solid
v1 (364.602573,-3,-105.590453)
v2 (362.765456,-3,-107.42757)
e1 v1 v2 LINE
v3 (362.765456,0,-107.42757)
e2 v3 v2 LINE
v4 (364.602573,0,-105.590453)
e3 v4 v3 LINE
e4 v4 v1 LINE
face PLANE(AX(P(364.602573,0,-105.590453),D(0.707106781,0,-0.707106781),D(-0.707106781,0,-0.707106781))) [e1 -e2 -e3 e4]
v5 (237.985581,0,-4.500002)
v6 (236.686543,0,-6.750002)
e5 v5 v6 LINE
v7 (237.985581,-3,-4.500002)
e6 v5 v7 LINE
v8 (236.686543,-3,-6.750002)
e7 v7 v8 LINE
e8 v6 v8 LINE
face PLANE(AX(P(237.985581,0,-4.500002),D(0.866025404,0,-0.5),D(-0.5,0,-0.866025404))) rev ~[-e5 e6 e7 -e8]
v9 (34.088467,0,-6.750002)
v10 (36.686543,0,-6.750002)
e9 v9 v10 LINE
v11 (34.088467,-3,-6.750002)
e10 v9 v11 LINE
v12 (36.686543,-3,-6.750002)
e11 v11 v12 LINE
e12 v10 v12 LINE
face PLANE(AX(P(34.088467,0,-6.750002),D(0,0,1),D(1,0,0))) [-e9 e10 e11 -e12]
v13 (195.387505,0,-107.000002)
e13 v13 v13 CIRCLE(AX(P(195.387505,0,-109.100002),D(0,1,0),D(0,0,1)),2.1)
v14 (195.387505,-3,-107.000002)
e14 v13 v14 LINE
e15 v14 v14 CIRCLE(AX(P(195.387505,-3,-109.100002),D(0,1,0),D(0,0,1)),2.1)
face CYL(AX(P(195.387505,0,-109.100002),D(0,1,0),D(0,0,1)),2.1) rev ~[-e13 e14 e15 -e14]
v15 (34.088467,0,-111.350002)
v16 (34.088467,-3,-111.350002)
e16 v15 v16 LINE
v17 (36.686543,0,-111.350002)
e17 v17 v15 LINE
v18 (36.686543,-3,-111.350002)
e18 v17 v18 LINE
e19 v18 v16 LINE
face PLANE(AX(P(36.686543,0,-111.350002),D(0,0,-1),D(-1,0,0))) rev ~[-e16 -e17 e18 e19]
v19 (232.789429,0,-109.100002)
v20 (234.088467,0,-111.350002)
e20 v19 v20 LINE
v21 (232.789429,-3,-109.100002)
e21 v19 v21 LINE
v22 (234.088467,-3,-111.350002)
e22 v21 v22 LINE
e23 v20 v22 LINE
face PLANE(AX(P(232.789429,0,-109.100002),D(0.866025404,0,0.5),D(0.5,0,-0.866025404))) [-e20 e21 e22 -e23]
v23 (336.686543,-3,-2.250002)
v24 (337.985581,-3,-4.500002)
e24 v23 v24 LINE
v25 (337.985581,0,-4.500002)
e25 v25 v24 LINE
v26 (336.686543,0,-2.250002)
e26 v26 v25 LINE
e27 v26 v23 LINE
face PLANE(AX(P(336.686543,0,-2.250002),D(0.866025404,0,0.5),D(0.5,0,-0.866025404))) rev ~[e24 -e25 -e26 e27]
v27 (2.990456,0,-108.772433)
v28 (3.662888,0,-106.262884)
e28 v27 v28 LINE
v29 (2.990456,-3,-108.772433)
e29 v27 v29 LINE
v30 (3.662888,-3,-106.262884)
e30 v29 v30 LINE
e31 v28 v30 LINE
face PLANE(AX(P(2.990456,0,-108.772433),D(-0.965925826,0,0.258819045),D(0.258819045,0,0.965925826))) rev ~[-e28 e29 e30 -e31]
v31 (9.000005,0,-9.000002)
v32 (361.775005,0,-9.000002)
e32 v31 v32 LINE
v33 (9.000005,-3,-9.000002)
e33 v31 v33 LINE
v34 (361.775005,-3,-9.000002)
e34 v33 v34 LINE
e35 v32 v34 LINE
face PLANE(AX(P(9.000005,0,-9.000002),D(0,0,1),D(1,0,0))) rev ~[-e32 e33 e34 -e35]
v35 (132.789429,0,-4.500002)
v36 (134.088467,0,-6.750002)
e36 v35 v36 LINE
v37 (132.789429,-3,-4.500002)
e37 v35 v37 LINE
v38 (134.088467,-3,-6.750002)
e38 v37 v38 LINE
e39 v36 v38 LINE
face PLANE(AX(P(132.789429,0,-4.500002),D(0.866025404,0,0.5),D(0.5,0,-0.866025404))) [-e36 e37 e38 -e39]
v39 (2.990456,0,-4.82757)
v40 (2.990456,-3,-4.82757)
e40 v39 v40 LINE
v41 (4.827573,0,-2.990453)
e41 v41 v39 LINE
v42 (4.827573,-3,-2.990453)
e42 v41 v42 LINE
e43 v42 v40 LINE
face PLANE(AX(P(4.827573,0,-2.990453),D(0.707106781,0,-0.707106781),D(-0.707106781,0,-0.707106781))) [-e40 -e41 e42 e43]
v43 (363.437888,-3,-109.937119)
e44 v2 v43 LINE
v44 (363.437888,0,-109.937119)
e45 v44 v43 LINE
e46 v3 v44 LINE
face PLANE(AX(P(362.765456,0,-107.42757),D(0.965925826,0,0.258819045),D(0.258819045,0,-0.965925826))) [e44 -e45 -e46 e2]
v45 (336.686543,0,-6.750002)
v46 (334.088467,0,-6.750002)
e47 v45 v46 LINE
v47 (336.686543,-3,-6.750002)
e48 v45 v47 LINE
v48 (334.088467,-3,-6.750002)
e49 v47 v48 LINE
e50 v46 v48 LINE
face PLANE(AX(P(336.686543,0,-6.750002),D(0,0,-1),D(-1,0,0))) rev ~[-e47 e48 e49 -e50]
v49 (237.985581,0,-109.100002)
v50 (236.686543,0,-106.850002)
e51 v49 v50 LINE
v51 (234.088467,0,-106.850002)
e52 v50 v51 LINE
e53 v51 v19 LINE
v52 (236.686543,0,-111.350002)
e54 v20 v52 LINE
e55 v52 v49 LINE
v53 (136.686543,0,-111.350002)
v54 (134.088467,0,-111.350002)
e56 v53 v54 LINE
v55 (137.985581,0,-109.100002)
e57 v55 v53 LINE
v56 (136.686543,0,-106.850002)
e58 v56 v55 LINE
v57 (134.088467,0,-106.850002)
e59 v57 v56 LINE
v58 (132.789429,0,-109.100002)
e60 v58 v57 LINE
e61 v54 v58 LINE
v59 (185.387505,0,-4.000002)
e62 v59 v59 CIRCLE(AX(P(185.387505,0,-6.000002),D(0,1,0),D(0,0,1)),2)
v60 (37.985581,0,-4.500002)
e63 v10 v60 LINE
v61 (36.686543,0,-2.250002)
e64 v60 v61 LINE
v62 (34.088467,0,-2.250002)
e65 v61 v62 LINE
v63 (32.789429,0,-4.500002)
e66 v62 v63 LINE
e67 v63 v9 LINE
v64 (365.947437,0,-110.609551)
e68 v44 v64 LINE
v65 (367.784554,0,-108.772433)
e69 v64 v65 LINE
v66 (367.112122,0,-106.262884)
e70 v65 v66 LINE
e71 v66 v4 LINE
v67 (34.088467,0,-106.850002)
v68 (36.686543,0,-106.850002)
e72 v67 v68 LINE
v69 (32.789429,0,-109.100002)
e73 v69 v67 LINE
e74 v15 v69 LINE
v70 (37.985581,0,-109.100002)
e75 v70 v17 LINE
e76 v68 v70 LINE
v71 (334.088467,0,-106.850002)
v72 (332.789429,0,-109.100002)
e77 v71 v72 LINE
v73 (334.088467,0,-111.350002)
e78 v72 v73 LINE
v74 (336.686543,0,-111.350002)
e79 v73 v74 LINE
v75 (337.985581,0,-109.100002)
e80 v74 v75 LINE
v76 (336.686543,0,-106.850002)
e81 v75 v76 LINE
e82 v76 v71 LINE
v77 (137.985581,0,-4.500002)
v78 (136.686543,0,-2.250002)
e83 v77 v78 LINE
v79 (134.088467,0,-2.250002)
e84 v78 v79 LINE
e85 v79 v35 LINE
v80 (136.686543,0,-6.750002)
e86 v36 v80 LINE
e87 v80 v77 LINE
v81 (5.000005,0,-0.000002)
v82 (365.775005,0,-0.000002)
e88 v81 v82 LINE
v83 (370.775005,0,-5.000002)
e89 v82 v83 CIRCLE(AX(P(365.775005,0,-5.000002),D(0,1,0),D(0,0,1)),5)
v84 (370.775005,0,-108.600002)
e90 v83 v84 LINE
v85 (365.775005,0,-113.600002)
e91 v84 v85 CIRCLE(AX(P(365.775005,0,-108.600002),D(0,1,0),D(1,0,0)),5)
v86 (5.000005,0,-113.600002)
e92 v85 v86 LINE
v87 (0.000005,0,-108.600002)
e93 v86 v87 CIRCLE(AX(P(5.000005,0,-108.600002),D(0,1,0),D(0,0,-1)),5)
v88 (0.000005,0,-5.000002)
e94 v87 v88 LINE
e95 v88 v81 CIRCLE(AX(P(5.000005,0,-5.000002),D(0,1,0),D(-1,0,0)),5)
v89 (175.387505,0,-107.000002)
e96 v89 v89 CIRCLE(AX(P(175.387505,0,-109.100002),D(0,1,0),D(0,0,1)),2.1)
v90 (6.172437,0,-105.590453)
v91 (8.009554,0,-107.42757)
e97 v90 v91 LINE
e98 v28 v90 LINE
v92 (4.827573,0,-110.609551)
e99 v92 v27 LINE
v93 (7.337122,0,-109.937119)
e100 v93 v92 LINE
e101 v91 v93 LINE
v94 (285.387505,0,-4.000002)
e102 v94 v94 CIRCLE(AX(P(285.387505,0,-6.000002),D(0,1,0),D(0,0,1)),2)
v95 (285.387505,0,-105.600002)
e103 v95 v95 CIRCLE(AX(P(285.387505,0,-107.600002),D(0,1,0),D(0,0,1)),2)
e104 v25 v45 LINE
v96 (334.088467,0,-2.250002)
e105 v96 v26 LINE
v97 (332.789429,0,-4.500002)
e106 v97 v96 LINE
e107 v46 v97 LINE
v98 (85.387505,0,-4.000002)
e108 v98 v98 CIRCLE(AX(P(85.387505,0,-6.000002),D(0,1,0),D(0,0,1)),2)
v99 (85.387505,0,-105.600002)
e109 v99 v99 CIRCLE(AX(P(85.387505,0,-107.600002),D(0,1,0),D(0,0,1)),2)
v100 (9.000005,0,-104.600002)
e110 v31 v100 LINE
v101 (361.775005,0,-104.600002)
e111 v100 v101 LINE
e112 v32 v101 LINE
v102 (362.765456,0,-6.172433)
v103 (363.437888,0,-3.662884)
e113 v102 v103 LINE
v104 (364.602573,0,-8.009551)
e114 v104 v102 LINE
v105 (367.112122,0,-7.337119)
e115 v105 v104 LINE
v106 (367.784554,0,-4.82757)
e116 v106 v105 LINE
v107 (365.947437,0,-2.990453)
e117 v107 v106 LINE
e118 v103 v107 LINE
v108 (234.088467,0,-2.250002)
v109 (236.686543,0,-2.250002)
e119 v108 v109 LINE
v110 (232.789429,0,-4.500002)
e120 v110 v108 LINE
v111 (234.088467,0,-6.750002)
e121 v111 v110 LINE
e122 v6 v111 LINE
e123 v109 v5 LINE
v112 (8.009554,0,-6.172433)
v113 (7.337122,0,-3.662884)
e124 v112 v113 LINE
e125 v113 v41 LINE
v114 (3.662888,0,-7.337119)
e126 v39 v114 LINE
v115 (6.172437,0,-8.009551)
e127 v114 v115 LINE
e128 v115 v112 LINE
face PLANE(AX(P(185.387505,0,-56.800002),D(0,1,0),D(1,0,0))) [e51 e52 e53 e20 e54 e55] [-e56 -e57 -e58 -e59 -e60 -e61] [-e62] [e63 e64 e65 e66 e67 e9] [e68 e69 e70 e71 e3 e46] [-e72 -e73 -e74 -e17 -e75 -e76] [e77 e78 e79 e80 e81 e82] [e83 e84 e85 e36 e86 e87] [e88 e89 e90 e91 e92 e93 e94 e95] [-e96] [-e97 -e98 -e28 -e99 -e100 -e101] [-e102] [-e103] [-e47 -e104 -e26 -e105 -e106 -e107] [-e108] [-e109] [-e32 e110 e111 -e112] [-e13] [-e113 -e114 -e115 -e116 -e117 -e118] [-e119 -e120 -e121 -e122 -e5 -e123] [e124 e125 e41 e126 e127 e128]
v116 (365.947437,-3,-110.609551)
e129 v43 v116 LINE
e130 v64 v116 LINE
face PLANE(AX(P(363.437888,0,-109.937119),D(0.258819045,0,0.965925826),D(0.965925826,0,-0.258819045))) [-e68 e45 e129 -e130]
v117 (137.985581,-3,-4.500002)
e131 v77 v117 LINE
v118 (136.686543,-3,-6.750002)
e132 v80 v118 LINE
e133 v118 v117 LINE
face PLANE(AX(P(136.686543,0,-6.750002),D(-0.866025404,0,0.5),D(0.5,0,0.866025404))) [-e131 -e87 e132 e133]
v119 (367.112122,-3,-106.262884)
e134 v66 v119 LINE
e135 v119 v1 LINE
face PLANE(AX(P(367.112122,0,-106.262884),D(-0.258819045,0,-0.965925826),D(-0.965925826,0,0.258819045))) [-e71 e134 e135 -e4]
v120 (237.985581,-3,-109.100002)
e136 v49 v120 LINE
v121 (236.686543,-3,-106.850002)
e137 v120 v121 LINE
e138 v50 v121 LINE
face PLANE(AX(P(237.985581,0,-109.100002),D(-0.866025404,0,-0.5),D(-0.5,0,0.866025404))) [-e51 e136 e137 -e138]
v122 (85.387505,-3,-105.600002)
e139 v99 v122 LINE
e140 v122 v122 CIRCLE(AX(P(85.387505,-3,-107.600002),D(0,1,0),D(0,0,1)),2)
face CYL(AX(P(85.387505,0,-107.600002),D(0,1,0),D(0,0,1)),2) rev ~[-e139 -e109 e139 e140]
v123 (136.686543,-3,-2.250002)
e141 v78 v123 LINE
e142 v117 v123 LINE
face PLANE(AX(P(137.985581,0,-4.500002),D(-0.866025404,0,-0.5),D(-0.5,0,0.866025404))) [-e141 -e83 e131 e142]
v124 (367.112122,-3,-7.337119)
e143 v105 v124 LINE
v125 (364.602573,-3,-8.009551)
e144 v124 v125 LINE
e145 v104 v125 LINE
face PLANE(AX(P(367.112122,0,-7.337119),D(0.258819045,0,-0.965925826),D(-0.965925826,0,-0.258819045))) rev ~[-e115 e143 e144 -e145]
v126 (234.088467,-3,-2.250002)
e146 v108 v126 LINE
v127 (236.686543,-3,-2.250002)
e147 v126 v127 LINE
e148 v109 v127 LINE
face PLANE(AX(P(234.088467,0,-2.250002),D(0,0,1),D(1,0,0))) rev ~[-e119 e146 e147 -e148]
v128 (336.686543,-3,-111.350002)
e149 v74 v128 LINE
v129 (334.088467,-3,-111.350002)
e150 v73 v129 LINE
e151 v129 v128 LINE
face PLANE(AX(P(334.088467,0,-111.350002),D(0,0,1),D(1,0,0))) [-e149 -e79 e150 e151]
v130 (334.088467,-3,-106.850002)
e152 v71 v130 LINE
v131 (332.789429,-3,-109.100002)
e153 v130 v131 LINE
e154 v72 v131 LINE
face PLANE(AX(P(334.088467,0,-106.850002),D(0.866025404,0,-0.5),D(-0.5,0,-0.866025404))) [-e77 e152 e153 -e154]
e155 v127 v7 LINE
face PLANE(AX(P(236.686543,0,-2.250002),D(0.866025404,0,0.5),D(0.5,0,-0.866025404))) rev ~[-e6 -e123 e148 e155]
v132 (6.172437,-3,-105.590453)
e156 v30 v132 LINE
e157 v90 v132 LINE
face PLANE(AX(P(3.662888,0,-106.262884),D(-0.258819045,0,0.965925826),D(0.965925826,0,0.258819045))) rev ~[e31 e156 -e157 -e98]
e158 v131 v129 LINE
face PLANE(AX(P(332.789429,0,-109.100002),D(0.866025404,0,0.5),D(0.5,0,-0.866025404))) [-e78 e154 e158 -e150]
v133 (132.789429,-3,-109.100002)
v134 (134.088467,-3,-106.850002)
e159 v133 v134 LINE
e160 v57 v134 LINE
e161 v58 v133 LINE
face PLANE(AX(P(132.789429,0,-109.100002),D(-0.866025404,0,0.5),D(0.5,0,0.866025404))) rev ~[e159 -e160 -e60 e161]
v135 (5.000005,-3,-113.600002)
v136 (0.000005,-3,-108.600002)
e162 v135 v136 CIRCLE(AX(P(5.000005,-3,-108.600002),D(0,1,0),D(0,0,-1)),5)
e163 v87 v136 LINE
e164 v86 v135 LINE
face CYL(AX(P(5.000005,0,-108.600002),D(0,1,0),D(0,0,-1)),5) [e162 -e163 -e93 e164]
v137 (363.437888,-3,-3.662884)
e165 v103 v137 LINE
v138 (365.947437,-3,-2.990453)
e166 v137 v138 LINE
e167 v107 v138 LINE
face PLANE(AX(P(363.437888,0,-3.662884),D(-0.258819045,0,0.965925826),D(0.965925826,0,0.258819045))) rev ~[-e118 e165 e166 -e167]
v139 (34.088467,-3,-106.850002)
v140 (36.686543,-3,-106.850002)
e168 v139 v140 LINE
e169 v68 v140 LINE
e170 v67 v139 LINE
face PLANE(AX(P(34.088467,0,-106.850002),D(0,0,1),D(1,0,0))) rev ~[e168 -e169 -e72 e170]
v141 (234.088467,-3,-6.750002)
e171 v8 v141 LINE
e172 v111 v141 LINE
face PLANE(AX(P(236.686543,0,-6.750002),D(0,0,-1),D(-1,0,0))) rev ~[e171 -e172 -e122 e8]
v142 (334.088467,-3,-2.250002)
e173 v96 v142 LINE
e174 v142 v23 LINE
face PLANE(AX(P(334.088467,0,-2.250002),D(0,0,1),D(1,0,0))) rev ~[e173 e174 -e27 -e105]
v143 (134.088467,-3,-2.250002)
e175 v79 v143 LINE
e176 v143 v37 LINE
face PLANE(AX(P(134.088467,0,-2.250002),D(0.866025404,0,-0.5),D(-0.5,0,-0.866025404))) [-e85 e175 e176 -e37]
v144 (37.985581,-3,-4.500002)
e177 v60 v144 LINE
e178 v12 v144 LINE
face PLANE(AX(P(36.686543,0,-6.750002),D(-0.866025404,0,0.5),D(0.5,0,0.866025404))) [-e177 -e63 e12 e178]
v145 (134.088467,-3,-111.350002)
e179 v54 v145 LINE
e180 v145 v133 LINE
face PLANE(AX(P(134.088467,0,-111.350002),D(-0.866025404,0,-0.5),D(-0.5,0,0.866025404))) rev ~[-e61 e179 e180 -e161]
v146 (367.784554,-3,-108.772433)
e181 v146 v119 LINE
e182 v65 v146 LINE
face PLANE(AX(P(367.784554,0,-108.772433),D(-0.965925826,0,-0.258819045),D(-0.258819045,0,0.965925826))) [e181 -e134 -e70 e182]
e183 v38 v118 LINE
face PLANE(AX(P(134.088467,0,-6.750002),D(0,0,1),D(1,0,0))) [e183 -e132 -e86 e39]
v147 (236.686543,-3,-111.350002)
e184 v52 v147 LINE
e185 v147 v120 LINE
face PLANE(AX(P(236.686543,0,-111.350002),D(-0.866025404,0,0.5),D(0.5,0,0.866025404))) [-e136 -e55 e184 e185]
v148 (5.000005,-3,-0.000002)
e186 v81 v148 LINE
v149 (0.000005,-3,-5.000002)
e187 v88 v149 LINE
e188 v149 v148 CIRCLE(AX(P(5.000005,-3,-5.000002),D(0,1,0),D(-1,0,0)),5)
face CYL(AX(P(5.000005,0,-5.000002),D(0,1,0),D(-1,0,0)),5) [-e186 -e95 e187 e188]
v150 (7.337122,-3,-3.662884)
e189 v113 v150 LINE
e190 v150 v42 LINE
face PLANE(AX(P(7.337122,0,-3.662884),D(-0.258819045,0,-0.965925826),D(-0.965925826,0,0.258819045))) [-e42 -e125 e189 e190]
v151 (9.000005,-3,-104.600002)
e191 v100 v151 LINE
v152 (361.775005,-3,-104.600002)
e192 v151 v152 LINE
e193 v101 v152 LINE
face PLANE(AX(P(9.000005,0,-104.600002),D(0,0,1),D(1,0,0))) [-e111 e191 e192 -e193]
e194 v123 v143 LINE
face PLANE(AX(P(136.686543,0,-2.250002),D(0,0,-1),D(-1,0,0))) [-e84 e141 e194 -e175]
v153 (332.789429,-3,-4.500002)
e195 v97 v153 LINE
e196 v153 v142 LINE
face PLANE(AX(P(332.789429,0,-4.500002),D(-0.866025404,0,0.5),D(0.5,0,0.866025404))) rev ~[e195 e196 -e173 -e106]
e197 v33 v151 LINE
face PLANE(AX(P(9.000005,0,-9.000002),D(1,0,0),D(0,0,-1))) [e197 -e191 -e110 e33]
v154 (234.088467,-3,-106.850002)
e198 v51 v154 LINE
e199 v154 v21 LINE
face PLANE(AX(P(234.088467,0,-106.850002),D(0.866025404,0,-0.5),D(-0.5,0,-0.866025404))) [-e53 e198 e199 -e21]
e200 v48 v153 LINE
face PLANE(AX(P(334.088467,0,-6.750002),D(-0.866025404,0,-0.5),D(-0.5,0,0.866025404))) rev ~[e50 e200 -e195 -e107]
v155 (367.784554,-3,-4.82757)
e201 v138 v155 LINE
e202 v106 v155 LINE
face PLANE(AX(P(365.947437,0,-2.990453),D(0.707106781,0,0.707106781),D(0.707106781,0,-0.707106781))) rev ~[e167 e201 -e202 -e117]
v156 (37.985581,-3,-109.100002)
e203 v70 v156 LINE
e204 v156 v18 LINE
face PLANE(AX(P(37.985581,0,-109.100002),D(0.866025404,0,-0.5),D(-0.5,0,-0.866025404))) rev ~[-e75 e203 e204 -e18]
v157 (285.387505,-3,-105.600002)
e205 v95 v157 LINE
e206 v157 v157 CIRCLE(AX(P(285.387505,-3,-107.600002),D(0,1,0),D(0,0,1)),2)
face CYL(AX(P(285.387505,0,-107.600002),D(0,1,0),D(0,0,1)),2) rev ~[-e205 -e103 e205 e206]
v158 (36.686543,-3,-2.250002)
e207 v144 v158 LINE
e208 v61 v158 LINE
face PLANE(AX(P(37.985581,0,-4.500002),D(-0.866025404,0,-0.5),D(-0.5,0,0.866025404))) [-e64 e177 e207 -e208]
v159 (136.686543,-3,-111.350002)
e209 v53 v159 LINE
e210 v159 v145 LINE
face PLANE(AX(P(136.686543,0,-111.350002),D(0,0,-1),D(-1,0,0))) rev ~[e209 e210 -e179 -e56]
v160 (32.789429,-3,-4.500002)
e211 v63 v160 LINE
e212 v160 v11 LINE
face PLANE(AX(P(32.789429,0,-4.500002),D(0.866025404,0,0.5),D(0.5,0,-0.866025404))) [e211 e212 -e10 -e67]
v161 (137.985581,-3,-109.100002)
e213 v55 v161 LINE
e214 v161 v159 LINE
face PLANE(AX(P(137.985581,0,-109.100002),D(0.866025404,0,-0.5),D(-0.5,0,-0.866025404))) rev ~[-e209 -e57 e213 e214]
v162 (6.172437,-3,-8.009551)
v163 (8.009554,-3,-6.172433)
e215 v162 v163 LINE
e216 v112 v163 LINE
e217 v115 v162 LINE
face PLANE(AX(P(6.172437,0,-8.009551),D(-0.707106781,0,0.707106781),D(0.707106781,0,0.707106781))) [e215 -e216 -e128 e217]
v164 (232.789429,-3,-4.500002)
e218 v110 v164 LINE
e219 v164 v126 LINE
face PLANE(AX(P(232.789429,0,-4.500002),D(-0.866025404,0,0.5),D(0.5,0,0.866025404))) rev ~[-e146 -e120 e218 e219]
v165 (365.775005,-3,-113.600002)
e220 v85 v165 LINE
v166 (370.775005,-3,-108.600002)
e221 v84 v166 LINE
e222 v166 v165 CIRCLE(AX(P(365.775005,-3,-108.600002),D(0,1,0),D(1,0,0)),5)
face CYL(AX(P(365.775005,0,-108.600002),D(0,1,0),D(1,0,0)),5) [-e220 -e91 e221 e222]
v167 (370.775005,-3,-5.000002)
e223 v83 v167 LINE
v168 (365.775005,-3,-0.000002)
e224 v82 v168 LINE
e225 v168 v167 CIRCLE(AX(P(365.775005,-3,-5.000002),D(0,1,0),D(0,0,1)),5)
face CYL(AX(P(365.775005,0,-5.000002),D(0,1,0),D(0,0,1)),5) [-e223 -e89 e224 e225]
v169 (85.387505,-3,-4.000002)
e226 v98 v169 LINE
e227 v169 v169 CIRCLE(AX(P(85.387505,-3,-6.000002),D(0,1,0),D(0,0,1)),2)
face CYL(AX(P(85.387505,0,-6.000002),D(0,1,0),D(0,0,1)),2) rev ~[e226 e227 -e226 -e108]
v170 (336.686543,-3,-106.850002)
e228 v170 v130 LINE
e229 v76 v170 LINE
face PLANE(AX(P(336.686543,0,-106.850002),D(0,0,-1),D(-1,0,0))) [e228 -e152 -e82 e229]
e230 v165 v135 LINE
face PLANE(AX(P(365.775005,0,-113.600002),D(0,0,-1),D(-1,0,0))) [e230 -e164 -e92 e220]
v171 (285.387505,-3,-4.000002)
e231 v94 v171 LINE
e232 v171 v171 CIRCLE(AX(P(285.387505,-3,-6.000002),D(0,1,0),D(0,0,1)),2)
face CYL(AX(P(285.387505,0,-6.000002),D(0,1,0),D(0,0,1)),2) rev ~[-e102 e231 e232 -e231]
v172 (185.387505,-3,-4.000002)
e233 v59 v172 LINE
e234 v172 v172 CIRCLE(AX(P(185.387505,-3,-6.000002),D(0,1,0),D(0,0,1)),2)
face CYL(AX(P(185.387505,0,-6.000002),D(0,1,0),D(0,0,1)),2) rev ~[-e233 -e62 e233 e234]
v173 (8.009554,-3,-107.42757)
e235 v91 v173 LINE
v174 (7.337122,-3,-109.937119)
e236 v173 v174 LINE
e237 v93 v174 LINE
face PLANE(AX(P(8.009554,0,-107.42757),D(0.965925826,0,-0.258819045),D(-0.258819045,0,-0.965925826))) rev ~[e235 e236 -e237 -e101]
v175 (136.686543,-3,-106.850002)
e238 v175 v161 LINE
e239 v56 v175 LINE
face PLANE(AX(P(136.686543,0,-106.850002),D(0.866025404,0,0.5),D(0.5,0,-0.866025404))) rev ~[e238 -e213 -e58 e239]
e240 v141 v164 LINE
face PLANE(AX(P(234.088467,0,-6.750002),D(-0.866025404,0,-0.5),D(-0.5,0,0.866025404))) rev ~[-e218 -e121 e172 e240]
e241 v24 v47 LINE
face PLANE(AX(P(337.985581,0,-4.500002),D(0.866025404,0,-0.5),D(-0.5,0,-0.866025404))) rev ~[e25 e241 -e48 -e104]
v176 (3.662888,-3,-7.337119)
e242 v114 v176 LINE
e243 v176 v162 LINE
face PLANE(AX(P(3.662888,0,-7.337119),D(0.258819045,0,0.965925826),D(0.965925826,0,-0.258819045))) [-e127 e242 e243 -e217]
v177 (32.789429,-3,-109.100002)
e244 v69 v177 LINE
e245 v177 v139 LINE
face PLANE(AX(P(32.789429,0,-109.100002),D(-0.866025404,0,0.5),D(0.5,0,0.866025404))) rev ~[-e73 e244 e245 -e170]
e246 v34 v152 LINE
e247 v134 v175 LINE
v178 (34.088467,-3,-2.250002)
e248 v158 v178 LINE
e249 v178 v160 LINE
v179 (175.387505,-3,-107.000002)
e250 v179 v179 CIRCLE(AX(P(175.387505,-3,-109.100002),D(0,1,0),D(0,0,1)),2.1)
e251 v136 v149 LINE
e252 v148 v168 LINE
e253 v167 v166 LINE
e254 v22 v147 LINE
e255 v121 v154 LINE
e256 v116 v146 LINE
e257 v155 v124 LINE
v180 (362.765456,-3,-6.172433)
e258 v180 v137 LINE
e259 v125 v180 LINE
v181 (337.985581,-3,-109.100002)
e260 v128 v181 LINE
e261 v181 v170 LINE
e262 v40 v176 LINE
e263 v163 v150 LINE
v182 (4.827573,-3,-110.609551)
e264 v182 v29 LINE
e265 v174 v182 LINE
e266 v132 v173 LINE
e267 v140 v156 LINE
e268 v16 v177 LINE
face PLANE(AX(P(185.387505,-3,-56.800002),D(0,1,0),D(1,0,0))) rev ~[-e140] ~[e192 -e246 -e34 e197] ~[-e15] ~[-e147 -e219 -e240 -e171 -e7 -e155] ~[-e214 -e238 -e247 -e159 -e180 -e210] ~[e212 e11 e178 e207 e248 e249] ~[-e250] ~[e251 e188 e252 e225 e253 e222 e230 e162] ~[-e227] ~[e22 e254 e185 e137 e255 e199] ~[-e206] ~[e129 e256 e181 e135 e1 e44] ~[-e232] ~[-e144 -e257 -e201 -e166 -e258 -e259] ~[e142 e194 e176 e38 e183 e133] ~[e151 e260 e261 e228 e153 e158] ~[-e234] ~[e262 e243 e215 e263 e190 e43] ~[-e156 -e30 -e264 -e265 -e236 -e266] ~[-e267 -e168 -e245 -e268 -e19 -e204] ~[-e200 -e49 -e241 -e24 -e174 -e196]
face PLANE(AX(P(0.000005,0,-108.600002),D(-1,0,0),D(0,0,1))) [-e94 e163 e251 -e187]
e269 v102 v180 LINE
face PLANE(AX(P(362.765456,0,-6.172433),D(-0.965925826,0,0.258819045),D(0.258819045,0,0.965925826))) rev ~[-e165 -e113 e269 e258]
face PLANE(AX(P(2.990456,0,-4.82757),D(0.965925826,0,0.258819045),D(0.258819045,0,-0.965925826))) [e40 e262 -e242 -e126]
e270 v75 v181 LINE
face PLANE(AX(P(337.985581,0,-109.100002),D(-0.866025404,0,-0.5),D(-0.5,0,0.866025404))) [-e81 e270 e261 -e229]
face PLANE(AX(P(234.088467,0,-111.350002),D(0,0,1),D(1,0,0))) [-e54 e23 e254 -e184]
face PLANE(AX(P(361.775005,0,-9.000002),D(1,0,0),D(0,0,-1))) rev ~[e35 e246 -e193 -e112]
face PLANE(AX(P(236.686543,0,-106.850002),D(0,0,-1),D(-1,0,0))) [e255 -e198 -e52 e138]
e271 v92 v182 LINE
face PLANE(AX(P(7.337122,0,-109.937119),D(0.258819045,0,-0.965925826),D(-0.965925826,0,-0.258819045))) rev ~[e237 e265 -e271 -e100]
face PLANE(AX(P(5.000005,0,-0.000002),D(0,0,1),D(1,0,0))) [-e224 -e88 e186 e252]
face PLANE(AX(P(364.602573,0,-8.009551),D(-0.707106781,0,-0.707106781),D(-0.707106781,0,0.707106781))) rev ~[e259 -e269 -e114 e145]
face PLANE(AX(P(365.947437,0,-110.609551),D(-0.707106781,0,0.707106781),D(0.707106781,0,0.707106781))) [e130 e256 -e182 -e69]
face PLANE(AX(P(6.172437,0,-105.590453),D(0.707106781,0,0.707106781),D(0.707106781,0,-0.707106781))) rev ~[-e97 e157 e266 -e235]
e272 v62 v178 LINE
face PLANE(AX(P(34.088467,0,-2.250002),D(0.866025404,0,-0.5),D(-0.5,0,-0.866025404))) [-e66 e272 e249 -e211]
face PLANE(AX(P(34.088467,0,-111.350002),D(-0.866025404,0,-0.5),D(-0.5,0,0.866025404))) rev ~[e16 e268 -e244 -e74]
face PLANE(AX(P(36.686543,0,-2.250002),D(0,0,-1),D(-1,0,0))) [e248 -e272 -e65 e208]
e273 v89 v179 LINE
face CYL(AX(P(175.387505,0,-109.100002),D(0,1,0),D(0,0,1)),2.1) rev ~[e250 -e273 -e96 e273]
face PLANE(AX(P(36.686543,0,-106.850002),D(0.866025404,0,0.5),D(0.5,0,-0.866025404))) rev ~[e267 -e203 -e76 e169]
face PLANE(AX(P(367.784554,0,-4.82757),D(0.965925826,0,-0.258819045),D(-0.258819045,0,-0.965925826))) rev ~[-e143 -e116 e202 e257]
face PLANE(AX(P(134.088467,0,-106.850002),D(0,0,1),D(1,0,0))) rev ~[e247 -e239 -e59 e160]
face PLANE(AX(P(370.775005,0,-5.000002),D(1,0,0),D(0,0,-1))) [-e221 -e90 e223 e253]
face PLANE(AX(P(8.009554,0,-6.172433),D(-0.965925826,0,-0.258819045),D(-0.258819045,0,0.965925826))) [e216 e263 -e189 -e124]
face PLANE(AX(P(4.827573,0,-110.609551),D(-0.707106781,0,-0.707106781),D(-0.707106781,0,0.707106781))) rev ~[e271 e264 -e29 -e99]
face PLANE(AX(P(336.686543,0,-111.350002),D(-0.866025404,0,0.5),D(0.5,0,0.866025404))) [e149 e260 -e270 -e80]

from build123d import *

# Parameters (mm, degrees)
SKETCH1_R           = 2
SKETCH1_R_2         = 2.1
SKETCH1_W           = 352.775
SKETCH1_H           = 95.6
BOSS_EXTRUDE1_DEPTH = 3


with BuildPart() as part:
    # Sketch1 → Boss-Extrude1 (new body)
    with BuildSketch(Plane(origin=(0, 0, 0), x_dir=(1, 0, 0), z_dir=(0, 1, 0))):
        with BuildLine():
            Line((4.973e-06, 108.600001742), (4.973e-06, 5.000001742))
            ThreePointArc((4.973e-06, 5.000001742), (1.464471067, 1.464467836), (5.000004973, 1.742e-06))
            Line((5.000004973, 1.742e-06), (365.775004973, 1.742e-06))
            ThreePointArc((365.775004973, 1.742e-06), (369.310538879, 1.464467836), (370.775004973, 5.000001742))
            Line((370.775004973, 5.000001742), (370.775004973, 108.600001742))
            ThreePointArc((370.775004973, 108.600001742), (369.310538879, 112.135535647), (365.775004973, 113.600001742))
            Line((365.775004973, 113.600001742), (5.000004973, 113.600001742))
            ThreePointArc((5.000004973, 113.600001742), (1.464471067, 112.135535647), (4.973e-06, 108.600001742))
        make_face()
        with Locations(Location((85.387504973, 107.600001742, 0), (0, 0, 270))):
            Circle(SKETCH1_R, mode=Mode.SUBTRACT)
        with Locations(Location((285.387504973, 107.600001742, 0), (0, 0, 270))):
            Circle(SKETCH1_R, mode=Mode.SUBTRACT)
        with Locations(Location((85.387504973, 6.000001741, 0), (0, 0, 270))):
            Circle(SKETCH1_R, mode=Mode.SUBTRACT)
        with Locations(Location((185.387504973, 6.000001741, 0), (0, 0, 270))):
            Circle(SKETCH1_R, mode=Mode.SUBTRACT)
        with Locations(Location((285.387504973, 6.000001741, 0), (0, 0, 270))):
            Circle(SKETCH1_R, mode=Mode.SUBTRACT)
        with Locations(Location((175.387504973, 109.100001742, 0), (0, 0, 270))):
            Circle(SKETCH1_R_2, mode=Mode.SUBTRACT)
        with Locations(Location((195.387504973, 109.100001742, 0), (0, 0, 270))):
            Circle(SKETCH1_R_2, mode=Mode.SUBTRACT)
        with Locations((185.387504973, 56.800001742)):
            Rectangle(SKETCH1_W, SKETCH1_H, mode=Mode.SUBTRACT)
        Polygon((234.088466868, 111.350001742), (236.686543079, 111.350001742), (237.985581185, 109.100001742), (236.686543079, 106.850001742), (234.088466868, 106.850001742), (232.789428762, 109.100001742), align=None, mode=Mode.SUBTRACT)
        Polygon((334.088466868, 111.350001742), (336.686543079, 111.350001742), (337.985581185, 109.100001742), (336.686543079, 106.850001742), (334.088466868, 106.850001742), (332.789428762, 109.100001742), align=None, mode=Mode.SUBTRACT)
        Polygon((365.947436577, 110.609550653), (367.784553885, 108.772433346), (367.11212228, 106.262884434), (364.602573369, 105.59045283), (362.765456062, 107.427570137), (363.437887666, 109.937119049), align=None, mode=Mode.SUBTRACT)
        Polygon((136.686543079, 111.350001742), (134.088466868, 111.350001742), (132.789428762, 109.100001742), (134.088466868, 106.850001742), (136.686543079, 106.850001742), (137.985581185, 109.100001742), align=None, mode=Mode.SUBTRACT)
        Polygon((36.686543079, 111.350001742), (34.088466868, 111.350001742), (32.789428762, 109.100001742), (34.088466868, 106.850001742), (36.686543079, 106.850001742), (37.985581185, 109.100001742), align=None, mode=Mode.SUBTRACT)
        Polygon((4.827573369, 110.609550653), (2.990456062, 108.772433346), (3.662887666, 106.262884434), (6.172436577, 105.59045283), (8.009553885, 107.427570137), (7.33712228, 109.937119049), align=None, mode=Mode.SUBTRACT)
        Polygon((234.088466868, 2.250001742), (236.686543079, 2.250001742), (237.985581185, 4.500001742), (236.686543079, 6.750001742), (234.088466868, 6.750001742), (232.789428762, 4.500001742), align=None, mode=Mode.SUBTRACT)
        Polygon((334.088466868, 2.250001742), (336.686543079, 2.250001742), (337.985581185, 4.500001742), (336.686543079, 6.750001742), (334.088466868, 6.750001742), (332.789428762, 4.500001742), align=None, mode=Mode.SUBTRACT)
        Polygon((365.947436577, 2.99045283), (367.784553885, 4.827570137), (367.11212228, 7.337119049), (364.602573369, 8.009550653), (362.765456062, 6.172433346), (363.437887666, 3.662884434), align=None, mode=Mode.SUBTRACT)
        Polygon((136.686543079, 2.250001742), (134.088466868, 2.250001742), (132.789428762, 4.500001742), (134.088466868, 6.750001742), (136.686543079, 6.750001742), (137.985581185, 4.500001742), align=None, mode=Mode.SUBTRACT)
        Polygon((36.686543079, 2.250001742), (34.088466868, 2.250001742), (32.789428762, 4.500001742), (34.088466868, 6.750001742), (36.686543079, 6.750001742), (37.985581185, 4.500001742), align=None, mode=Mode.SUBTRACT)
        Polygon((4.827573369, 2.99045283), (2.990456062, 4.827570137), (3.662887666, 7.337119049), (6.172436577, 8.009550653), (8.009553885, 6.172433346), (7.33712228, 3.662884434), align=None, mode=Mode.SUBTRACT)
    extrude(amount=-BOSS_EXTRUDE1_DEPTH)


solid = part.part
